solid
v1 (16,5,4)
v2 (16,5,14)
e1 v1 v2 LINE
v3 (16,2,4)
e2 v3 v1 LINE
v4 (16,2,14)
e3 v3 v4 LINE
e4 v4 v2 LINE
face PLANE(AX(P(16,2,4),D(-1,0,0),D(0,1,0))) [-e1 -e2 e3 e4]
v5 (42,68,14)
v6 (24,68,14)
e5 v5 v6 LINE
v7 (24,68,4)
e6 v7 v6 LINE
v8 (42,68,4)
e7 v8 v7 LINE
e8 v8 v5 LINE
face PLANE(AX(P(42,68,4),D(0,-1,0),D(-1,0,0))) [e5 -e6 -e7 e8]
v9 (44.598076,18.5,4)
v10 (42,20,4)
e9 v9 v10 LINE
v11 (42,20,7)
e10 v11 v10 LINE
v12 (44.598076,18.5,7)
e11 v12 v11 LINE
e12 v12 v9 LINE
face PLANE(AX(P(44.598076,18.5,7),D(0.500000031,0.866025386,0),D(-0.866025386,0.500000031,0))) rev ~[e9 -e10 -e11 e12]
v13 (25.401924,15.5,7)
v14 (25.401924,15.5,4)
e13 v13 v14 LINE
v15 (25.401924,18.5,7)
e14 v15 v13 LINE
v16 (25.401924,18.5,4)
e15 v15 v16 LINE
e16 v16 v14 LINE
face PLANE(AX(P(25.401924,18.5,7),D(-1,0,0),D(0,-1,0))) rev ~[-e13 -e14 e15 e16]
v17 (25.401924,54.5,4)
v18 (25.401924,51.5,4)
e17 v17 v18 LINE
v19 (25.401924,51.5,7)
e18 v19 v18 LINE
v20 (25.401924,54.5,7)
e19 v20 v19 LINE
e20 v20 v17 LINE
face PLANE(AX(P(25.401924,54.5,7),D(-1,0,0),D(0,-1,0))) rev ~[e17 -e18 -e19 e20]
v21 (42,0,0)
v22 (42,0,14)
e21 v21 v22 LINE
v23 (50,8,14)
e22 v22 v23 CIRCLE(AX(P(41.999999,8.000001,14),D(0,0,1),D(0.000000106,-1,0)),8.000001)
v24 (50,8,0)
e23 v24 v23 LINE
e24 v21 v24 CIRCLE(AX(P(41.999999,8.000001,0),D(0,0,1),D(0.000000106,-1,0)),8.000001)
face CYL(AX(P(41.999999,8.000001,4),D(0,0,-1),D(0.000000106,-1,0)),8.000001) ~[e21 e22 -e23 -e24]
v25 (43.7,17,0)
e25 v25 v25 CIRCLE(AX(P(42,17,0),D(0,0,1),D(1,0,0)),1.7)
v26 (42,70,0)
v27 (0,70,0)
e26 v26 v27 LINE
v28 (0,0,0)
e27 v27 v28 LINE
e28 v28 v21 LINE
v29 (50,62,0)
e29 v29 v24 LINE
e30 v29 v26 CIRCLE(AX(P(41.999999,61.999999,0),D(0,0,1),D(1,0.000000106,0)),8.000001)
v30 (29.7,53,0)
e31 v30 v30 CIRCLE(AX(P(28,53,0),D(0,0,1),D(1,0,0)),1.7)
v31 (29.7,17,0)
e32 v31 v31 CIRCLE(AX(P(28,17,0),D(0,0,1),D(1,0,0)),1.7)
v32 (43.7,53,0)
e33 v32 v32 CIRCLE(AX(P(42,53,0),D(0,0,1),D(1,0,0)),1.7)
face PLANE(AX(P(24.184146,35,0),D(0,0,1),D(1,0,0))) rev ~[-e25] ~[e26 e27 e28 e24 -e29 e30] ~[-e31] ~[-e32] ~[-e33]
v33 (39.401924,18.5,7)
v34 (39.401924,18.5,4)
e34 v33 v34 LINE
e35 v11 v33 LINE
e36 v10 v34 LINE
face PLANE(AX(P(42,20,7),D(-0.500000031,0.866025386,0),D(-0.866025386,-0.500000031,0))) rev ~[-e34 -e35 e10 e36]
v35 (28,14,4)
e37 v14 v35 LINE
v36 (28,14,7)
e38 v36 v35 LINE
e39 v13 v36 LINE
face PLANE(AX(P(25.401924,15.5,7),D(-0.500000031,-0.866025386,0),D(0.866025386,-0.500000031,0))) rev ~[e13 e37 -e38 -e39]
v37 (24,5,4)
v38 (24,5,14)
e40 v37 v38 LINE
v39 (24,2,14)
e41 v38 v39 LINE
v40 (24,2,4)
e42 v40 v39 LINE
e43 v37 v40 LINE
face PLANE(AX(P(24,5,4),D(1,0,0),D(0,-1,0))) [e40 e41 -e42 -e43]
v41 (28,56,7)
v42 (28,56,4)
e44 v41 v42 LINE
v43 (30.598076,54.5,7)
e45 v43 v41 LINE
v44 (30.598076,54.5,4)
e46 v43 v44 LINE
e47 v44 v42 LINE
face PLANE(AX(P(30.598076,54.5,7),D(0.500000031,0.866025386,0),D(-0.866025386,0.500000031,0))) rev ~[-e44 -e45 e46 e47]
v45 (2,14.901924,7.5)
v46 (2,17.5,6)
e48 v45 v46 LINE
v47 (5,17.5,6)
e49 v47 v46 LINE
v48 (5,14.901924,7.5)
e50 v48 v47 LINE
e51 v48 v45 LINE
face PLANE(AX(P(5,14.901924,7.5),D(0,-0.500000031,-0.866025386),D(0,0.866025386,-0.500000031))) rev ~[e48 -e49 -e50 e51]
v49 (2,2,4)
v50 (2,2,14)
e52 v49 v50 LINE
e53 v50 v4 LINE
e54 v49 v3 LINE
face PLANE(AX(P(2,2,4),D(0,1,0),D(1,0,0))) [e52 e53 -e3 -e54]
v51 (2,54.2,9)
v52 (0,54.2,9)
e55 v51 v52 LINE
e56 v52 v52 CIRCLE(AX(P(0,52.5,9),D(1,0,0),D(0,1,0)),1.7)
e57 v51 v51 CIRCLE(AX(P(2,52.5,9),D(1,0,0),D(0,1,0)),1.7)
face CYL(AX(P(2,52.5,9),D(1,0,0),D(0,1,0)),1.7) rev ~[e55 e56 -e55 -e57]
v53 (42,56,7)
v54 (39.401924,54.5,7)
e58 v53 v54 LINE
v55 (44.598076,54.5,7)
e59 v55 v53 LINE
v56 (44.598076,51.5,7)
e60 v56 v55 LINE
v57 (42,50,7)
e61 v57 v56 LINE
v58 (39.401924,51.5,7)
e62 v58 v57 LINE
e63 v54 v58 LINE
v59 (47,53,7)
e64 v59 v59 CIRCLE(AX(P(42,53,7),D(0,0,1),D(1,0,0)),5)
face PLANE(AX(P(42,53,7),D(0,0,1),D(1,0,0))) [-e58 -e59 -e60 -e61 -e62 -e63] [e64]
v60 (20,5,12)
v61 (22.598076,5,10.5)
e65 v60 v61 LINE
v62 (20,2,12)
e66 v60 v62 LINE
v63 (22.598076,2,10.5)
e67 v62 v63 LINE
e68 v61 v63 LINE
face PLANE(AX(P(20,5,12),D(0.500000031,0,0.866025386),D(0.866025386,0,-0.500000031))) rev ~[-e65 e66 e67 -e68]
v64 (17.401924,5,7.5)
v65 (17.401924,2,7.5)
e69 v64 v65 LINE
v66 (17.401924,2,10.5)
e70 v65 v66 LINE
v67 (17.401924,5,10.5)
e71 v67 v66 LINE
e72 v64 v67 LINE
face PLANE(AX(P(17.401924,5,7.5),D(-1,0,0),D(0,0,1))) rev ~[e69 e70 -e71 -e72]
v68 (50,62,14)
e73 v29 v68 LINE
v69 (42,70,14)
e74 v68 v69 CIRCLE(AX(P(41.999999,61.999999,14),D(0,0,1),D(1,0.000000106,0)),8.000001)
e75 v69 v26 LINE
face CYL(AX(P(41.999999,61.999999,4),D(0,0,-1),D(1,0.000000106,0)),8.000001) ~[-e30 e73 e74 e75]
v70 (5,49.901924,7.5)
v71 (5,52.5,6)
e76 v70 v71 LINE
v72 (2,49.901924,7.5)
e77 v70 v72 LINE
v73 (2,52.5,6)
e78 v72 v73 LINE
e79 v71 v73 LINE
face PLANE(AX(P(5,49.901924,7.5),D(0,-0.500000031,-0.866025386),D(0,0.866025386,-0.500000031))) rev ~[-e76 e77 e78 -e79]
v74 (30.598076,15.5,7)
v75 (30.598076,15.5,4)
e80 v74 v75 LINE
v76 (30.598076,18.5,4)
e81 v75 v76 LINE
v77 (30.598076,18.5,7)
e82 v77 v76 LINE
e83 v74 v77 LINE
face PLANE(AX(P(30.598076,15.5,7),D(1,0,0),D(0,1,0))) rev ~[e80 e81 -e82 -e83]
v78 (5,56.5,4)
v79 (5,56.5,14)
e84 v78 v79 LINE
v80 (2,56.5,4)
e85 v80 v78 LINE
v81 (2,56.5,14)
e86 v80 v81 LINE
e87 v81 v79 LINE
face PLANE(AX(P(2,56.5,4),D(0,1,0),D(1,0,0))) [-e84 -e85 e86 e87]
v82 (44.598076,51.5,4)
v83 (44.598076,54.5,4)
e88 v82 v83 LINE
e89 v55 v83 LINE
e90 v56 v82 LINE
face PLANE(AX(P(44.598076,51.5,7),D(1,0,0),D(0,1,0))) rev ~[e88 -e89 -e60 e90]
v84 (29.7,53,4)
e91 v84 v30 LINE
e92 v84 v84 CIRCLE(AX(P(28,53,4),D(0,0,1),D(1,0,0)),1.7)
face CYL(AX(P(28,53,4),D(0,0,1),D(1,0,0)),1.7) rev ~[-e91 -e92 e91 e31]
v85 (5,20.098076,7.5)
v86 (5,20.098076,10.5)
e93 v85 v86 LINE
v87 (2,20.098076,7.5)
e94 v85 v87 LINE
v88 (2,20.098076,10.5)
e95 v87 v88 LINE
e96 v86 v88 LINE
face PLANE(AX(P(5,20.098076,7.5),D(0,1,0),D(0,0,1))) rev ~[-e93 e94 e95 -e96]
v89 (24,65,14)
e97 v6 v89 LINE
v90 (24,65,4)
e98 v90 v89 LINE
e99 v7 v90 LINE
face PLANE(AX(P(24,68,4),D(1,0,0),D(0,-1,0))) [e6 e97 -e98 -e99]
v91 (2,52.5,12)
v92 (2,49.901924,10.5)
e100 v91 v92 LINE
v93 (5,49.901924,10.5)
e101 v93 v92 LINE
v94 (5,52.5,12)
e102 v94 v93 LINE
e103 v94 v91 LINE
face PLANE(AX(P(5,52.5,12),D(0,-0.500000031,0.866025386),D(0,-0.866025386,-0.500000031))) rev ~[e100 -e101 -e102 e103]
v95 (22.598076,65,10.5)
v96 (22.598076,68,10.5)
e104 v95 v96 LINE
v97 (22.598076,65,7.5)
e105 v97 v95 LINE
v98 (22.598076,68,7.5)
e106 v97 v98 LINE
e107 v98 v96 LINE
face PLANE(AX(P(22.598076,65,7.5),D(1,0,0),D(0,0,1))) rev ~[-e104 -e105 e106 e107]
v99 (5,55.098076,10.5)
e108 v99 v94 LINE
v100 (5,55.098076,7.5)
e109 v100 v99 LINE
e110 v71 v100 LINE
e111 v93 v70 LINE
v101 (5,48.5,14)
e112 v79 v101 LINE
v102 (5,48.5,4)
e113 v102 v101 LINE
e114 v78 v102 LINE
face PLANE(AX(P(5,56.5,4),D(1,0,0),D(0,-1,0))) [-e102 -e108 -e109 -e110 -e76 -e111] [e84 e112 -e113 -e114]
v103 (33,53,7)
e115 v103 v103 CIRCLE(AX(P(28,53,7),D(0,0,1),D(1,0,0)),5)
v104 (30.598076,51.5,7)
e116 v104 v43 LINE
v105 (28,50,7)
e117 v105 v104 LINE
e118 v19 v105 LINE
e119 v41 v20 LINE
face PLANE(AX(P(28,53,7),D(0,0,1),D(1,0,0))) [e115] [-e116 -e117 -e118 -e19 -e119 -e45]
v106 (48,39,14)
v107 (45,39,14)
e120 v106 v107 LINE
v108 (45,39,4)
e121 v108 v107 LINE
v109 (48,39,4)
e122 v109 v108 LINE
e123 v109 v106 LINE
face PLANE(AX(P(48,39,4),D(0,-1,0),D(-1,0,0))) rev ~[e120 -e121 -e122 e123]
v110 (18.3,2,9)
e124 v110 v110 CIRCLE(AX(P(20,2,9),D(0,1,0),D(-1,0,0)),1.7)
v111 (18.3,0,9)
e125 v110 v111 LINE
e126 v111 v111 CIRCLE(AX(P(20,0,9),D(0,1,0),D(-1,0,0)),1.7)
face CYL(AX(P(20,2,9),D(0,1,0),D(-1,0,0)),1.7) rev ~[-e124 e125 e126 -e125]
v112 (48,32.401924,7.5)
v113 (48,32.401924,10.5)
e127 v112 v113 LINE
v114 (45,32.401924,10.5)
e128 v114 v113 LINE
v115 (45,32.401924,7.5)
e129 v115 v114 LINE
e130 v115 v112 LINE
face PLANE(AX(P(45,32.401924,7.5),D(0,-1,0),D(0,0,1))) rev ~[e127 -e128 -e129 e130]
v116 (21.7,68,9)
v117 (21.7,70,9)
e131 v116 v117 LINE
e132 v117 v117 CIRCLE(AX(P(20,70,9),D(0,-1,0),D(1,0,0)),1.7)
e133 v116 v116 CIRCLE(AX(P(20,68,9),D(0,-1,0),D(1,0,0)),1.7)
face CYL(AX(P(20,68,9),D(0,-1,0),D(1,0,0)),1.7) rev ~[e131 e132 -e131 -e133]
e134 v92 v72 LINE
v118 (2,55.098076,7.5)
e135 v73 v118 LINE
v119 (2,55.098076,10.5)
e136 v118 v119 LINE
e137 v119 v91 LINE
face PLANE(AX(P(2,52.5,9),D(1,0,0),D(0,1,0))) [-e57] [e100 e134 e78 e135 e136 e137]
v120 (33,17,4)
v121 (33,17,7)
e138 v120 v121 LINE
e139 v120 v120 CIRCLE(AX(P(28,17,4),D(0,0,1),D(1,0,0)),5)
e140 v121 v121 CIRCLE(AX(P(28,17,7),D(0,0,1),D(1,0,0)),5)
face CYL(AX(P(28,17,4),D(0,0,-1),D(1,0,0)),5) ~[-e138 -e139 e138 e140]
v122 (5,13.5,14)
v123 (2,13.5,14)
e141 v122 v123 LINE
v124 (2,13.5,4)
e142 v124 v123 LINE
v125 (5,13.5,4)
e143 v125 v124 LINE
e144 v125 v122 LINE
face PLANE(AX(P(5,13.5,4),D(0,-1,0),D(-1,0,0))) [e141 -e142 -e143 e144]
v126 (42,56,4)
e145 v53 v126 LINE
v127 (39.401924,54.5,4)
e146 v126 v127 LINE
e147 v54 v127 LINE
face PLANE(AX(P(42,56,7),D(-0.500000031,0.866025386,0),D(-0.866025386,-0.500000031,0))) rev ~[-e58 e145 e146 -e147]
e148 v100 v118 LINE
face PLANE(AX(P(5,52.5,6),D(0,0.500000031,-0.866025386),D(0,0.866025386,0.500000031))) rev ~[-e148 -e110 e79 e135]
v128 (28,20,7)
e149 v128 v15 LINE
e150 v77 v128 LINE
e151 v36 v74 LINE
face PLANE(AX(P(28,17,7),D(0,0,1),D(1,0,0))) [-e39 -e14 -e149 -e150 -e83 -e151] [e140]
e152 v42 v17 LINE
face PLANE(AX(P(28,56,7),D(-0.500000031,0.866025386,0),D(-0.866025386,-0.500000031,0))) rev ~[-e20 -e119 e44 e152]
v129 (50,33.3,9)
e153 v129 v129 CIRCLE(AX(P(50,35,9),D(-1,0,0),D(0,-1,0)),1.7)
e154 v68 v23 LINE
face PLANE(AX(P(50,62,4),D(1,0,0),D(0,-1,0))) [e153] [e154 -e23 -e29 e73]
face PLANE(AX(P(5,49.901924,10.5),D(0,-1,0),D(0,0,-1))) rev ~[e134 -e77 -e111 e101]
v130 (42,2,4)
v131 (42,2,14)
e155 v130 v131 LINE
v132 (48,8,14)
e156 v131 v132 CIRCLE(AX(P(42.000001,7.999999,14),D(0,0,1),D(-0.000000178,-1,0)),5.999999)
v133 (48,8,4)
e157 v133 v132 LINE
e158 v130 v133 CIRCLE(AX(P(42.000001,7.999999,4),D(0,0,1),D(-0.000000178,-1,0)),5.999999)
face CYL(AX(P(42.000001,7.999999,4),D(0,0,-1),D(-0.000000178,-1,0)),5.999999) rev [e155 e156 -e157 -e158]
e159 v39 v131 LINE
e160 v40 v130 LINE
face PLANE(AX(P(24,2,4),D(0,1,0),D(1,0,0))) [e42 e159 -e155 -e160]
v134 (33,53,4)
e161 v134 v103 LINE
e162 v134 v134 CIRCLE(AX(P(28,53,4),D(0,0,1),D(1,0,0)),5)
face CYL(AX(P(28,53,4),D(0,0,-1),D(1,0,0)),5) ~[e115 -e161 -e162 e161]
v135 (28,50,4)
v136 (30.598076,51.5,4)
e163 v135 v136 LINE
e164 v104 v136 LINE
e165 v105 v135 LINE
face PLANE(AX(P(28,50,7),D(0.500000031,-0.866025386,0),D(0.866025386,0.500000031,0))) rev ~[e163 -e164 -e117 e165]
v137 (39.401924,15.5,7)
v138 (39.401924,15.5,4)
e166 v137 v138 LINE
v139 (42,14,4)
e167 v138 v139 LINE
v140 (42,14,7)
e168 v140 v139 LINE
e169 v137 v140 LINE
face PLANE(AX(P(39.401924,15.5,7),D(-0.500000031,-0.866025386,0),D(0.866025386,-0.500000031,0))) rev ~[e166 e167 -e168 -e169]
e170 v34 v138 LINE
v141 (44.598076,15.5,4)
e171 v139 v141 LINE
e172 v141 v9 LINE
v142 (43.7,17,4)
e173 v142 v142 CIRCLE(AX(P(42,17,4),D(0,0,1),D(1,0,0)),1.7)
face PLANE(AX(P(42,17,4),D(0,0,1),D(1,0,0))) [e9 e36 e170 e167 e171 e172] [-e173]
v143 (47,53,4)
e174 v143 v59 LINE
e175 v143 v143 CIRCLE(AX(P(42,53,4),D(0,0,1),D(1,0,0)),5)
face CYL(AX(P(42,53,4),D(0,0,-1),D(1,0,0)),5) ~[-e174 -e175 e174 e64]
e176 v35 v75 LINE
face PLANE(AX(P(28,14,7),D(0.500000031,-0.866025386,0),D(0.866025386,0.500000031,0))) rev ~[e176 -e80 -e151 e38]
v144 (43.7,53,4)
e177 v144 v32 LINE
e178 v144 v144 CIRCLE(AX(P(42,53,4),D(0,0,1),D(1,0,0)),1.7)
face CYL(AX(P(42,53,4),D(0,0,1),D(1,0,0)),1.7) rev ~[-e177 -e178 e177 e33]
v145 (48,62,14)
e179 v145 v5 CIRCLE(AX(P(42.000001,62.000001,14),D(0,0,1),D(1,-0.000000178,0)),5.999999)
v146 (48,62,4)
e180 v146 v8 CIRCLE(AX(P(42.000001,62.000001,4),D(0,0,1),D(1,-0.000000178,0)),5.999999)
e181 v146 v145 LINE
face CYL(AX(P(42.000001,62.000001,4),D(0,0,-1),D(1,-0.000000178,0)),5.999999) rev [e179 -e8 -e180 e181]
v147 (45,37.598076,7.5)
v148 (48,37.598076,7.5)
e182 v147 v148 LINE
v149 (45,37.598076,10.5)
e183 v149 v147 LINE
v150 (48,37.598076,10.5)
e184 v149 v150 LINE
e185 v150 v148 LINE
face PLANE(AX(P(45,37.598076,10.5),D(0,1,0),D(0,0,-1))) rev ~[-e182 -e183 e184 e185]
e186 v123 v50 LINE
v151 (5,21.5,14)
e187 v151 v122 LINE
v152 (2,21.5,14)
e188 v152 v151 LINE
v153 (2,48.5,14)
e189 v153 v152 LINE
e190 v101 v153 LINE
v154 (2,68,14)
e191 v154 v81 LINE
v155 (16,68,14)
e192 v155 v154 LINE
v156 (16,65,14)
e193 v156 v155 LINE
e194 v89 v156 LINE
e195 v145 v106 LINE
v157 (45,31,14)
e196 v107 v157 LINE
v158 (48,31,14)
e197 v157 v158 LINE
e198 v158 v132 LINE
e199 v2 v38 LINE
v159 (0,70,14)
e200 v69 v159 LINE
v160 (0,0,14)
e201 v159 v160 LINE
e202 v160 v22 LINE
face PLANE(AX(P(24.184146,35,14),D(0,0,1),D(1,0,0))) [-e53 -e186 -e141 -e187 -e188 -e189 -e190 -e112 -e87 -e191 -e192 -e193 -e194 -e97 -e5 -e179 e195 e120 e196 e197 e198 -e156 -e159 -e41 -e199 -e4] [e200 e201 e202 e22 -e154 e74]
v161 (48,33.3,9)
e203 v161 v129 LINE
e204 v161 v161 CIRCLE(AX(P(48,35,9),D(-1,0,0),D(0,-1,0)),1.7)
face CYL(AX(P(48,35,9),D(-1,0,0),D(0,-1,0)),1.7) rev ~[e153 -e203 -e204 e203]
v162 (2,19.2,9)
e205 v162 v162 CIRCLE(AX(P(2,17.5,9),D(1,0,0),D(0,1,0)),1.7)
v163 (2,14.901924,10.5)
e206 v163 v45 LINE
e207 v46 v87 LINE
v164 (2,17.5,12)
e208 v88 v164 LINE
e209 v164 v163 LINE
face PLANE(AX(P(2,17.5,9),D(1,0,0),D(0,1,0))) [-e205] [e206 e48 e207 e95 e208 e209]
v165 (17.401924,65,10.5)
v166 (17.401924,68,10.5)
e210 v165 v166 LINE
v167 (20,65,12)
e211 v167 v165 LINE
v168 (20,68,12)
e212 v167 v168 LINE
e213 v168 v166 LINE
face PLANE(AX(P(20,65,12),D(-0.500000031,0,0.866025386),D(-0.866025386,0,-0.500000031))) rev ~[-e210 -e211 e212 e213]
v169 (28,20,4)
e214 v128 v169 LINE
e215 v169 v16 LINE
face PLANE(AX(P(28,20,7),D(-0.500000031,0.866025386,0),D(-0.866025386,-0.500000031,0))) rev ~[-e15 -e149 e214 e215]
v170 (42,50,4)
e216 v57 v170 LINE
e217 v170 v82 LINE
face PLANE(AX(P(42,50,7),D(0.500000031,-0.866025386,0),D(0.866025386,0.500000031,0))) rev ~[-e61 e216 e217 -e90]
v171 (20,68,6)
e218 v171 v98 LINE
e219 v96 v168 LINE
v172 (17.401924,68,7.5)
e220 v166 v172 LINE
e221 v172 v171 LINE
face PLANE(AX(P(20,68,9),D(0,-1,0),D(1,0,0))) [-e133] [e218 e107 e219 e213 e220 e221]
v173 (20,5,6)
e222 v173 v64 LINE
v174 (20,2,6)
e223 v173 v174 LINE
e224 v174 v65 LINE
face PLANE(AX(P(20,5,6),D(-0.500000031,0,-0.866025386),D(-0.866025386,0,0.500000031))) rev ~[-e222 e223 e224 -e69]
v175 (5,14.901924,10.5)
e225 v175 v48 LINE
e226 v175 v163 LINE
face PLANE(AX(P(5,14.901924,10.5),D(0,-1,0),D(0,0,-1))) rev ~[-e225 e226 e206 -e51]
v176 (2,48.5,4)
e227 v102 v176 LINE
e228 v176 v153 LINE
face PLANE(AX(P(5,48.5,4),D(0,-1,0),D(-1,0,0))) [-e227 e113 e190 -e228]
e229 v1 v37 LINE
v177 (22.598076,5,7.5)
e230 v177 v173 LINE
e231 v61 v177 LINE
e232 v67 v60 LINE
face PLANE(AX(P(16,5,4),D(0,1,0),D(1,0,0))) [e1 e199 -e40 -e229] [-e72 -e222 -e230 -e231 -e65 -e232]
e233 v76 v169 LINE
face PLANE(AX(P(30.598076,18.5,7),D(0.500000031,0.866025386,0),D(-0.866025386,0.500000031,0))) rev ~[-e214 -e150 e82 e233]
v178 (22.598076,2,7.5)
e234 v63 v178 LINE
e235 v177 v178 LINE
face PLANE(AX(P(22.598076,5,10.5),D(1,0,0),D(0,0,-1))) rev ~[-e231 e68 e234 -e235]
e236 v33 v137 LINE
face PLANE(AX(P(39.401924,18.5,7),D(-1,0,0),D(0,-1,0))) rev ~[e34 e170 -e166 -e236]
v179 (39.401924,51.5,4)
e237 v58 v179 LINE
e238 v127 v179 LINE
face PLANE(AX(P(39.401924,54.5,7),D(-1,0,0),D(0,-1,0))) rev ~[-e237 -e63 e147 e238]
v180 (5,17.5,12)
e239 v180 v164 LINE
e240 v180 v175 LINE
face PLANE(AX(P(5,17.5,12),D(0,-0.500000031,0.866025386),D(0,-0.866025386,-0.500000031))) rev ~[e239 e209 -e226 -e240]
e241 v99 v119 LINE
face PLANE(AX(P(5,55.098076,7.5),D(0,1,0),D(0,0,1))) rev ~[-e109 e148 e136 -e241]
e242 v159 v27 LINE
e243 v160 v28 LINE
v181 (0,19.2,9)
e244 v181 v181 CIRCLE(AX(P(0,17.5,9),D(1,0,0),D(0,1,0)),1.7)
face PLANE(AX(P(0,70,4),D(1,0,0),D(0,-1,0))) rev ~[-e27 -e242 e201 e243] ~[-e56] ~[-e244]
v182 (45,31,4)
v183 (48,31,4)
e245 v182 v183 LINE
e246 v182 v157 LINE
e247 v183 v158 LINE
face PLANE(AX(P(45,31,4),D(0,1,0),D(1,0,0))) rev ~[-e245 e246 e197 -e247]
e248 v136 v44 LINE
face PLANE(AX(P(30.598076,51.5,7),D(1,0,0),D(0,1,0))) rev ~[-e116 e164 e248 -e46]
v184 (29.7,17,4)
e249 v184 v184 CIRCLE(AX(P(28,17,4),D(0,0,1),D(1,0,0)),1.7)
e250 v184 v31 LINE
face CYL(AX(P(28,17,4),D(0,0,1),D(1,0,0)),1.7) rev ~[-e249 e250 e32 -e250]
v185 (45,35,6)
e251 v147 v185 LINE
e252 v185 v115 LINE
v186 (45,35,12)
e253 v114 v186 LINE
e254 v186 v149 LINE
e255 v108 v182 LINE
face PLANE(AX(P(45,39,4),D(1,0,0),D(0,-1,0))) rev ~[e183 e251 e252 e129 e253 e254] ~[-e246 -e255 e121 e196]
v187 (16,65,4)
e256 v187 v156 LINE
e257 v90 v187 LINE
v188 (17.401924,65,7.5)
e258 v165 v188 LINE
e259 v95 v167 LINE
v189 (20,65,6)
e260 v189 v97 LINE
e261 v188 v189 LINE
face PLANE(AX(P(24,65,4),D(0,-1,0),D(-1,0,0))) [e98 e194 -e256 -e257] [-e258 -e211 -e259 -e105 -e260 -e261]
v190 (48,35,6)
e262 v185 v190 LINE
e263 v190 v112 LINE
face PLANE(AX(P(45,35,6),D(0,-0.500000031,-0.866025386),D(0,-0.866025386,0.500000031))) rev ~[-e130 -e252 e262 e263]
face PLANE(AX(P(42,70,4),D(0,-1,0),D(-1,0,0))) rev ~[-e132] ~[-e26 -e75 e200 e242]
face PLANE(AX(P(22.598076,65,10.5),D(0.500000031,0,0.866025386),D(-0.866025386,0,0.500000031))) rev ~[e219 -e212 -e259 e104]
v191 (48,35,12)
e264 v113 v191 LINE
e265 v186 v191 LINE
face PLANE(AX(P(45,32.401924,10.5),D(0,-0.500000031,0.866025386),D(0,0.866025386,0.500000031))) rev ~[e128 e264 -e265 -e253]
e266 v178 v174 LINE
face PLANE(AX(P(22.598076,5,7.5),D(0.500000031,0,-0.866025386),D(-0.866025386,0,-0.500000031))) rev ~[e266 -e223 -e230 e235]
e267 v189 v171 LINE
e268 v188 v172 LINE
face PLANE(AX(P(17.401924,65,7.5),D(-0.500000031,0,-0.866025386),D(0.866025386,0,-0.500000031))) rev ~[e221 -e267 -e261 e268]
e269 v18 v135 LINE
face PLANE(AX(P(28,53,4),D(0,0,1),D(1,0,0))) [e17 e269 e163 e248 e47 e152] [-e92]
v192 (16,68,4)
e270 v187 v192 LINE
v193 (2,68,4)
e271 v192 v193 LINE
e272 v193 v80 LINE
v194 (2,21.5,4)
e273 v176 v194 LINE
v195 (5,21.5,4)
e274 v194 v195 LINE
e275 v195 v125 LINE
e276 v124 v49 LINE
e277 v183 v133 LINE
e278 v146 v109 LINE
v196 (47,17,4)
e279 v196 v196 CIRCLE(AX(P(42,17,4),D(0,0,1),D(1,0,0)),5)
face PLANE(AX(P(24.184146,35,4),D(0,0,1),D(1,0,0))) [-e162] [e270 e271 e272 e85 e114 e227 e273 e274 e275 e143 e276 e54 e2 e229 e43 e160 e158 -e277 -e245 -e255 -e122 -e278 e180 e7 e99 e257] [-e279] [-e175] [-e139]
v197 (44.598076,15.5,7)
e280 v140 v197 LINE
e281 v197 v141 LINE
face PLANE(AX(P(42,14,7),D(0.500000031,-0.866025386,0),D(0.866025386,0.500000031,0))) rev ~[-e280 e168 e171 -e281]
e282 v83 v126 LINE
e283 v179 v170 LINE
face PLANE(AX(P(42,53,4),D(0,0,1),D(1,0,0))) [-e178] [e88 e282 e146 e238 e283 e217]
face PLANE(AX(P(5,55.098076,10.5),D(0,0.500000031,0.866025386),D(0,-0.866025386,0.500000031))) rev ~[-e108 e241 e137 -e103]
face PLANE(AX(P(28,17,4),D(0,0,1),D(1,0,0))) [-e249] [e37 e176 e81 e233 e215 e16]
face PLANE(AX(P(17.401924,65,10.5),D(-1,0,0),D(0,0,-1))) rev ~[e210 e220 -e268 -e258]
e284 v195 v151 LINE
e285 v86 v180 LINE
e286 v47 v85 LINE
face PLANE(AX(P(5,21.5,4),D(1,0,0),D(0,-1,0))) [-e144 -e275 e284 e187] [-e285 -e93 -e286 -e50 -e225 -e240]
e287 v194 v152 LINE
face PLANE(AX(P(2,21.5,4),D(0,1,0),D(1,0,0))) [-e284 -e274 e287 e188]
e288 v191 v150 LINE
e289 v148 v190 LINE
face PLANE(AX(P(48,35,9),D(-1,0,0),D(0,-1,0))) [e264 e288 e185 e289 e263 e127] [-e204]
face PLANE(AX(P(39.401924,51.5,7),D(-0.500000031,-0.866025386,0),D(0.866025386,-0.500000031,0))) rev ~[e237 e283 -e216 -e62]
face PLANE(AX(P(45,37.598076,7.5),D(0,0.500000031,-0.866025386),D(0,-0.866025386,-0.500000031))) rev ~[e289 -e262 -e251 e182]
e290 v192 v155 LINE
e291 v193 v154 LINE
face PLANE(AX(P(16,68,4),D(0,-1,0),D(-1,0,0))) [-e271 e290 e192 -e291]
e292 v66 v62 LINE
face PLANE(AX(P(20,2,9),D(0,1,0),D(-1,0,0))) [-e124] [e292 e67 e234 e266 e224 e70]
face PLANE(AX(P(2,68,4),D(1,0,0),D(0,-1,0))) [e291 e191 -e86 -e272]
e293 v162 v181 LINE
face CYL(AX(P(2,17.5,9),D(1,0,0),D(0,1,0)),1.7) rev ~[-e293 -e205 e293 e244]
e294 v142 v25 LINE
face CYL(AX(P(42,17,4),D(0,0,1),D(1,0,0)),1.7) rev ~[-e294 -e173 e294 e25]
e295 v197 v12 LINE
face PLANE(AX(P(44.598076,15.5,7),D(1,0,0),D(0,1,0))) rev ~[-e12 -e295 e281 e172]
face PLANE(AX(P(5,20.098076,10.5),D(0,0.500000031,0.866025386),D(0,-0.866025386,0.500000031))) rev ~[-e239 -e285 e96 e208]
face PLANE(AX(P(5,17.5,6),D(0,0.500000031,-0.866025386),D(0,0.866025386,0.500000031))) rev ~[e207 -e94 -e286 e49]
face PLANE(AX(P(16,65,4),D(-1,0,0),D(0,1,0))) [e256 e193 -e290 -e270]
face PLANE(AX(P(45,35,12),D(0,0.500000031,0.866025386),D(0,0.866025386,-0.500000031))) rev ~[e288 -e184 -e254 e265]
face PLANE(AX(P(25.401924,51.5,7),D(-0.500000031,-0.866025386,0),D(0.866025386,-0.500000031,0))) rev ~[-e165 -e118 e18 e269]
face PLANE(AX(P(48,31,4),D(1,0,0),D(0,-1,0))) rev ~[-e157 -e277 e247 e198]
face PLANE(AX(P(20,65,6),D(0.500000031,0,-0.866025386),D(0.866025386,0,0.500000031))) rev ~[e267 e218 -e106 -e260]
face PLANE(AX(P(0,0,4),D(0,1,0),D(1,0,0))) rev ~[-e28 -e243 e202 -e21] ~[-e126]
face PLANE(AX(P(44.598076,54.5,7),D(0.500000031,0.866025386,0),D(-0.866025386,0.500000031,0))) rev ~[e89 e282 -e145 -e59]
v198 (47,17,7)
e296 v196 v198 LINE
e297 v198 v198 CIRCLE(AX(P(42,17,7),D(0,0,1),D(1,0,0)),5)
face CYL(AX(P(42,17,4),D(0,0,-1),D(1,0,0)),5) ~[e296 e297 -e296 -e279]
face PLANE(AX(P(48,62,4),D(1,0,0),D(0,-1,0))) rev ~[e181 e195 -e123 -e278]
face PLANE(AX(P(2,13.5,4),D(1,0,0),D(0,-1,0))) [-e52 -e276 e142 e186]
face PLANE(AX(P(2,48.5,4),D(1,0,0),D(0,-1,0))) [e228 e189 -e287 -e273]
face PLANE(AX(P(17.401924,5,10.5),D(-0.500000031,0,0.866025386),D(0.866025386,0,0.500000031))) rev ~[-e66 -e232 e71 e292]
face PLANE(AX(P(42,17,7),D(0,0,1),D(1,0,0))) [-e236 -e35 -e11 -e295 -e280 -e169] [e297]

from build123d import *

# Parameters (mm, degrees)
PAD_DEPTH       = 4
PAD001_DEPTH    = 10
SKETCH002_R     = 5
PAD002_DEPTH    = 3
POCKET_DEPTH    = 3
SKETCH004_R     = 1.7
POCKET001_DEPTH = 4
POCKET002_DEPTH = 3
SKETCH006_R     = 1.7
POCKET003_DEPTH = 2
POCKET004_DEPTH = 3
SKETCH008_R     = 1.7
POCKET005_DEPTH = 2
POCKET006_DEPTH = 3
SKETCH010_R     = 1.7
POCKET007_DEPTH = 2
POCKET008_DEPTH = 3
SKETCH012_R     = 1.7
POCKET009_DEPTH = 2


with BuildPart() as part:
    # Sketch → Pad (new body)
    with BuildSketch(Plane.XY):
        with BuildLine():
            Line((0, 0), (42, 0))
            ThreePointArc((42, 0), (47.656854, 2.343146), (50, 8))
            Line((50, 62), (50, 8))
            ThreePointArc((50, 62), (47.656854, 67.656854), (42, 70))
            Line((42, 70), (0, 70))
            Line((0, 70), (0, 0))
        make_face()
    extrude(amount=PAD_DEPTH)

    # Sketch001 → Pad001 (new body)
    with BuildSketch(Plane.XY.offset(4)):
        with BuildLine():
            Line((0, 0), (42, 0))
            ThreePointArc((42, 0), (47.656854, 2.343146), (50, 8))
            Line((50, 62), (50, 8))
            ThreePointArc((50, 62), (47.656854, 67.656854), (42, 70))
            Line((42, 70), (0, 70))
            Line((0, 70), (0, 0))
        make_face()
        with BuildLine():
            ThreePointArc((48, 62), (46.242641, 66.242641), (42, 68))
            Line((42, 68), (24, 68))
            Line((24, 68), (24, 65))
            Line((24, 65), (16, 65))
            Line((16, 65), (16, 68))
            Line((16, 68), (2, 68))
            Line((2, 68), (2, 56.5))
            Line((2, 56.5), (5, 56.5))
            Line((5, 56.5), (5, 48.5))
            Line((5, 48.5), (2, 48.5))
            Line((2, 48.5), (2, 21.5))
            Line((2, 21.5), (5, 21.5))
            Line((5, 21.5), (5, 13.5))
            Line((5, 13.5), (2, 13.5))
            Line((2, 13.5), (2, 2))
            Line((2, 2), (16, 2))
            Line((16, 2), (16, 5))
            Line((16, 5), (24, 5))
            Line((24, 5), (24, 2))
            Line((24, 2), (42, 2))
            ThreePointArc((42, 2), (46.242641, 3.757359), (48, 8))
            Line((48, 31), (48, 8))
            Line((45, 31), (48, 31))
            Line((45, 39), (45, 31))
            Line((48, 39), (45, 39))
            Line((48, 62), (48, 39))
        make_face(mode=Mode.SUBTRACT)
    extrude(amount=PAD001_DEPTH)

    # Sketch002 → Pad002 (new body)
    with BuildSketch(Plane.XY.offset(4)):
        with Locations((28, 53)):
            Circle(SKETCH002_R)
        with Locations((42, 53)):
            Circle(SKETCH002_R)
        with Locations((28, 17)):
            Circle(SKETCH002_R)
        with Locations((42, 17)):
            Circle(SKETCH002_R)
    extrude(amount=PAD002_DEPTH)

    # Sketch003 → Pocket (cut)
    with BuildSketch(Plane.XY.offset(7)):
        Polygon((28, 50), (30.598076, 51.5), (30.598076, 54.5), (28, 56), (25.401924, 54.5), (25.401924, 51.5), align=None)
        Polygon((30.598076, 15.5), (30.598076, 18.5), (28, 20), (25.401924, 18.5), (25.401924, 15.5), (28, 14), align=None)
        Polygon((44.598076, 51.5), (44.598076, 54.5), (42, 56), (39.401924, 54.5), (39.401924, 51.5), (42, 50), align=None)
        Polygon((44.598076, 15.5), (44.598076, 18.5), (42, 20), (39.401924, 18.5), (39.401924, 15.5), (42, 14), align=None)
    extrude(amount=-POCKET_DEPTH, mode=Mode.SUBTRACT)

    # Sketch004 → Pocket001 (cut)
    with BuildSketch(Plane.XY.offset(4)):
        with Locations((28, 53)):
            Circle(SKETCH004_R)
        with Locations((42, 53)):
            Circle(SKETCH004_R)
        with Locations((28, 17)):
            Circle(SKETCH004_R)
        with Locations((42, 17)):
            Circle(SKETCH004_R)
    extrude(amount=-POCKET001_DEPTH, mode=Mode.SUBTRACT)

    # Sketch005 → Pocket002 (cut)
    with BuildSketch(Plane.YZ.offset(5)):
        Polygon((20.098076, 7.5), (20.098076, 10.5), (17.5, 12), (14.901924, 10.5), (14.901924, 7.5), (17.5, 6), align=None)
        Polygon((55.098076, 7.5), (55.098076, 10.5), (52.5, 12), (49.901924, 10.5), (49.901924, 7.5), (52.5, 6), align=None)
    extrude(amount=-POCKET002_DEPTH, mode=Mode.SUBTRACT)

    # Sketch006 → Pocket003 (cut)
    with BuildSketch(Plane.YZ.offset(2)):
        with Locations((17.5, 9)):
            Circle(SKETCH006_R)
        with Locations((52.5, 9)):
            Circle(SKETCH006_R)
    extrude(amount=-POCKET003_DEPTH, mode=Mode.SUBTRACT)

    # Sketch007 → Pocket004 (cut)
    with BuildSketch(Plane.XZ.offset(-65)):
        Polygon((22.598076, 7.5), (22.598076, 10.5), (20, 12), (17.401924, 10.5), (17.401924, 7.5), (20, 6), align=None)
    extrude(amount=-POCKET004_DEPTH, mode=Mode.SUBTRACT)

    # Sketch008 → Pocket005 (cut)
    with BuildSketch(Plane.XZ.offset(-68)):
        with Locations((20, 9)):
            Circle(SKETCH008_R)
    extrude(amount=-POCKET005_DEPTH, mode=Mode.SUBTRACT)

    # Sketch009 → Pocket006 (cut)
    with BuildSketch(Plane(origin=(45, 0, 0), x_dir=(0, -1, 0), z_dir=(-1, 0, 0))):
        Polygon((-37.598076, 7.5), (-35, 6), (-32.401924, 7.5), (-32.401924, 10.5), (-35, 12), (-37.598076, 10.5), align=None)
    extrude(amount=-POCKET006_DEPTH, mode=Mode.SUBTRACT)

    # Sketch010 → Pocket007 (cut)
    with BuildSketch(Plane(origin=(48, 0, 0), x_dir=(0, -1, 0), z_dir=(-1, 0, 0))):
        with Locations((-35, 9)):
            Circle(SKETCH010_R)
    extrude(amount=-POCKET007_DEPTH, mode=Mode.SUBTRACT)

    # Sketch011 → Pocket008 (cut)
    with BuildSketch(Plane(origin=(0, 5, 0), x_dir=(-1, 0, 0), z_dir=(0, 1, 0))):
        Polygon((-17.401924, 7.5), (-17.401924, 10.5), (-20, 12), (-22.598076, 10.5), (-22.598076, 7.5), (-20, 6), align=None)
    extrude(amount=-POCKET008_DEPTH, mode=Mode.SUBTRACT)

    # Sketch012 → Pocket009 (cut)
    with BuildSketch(Plane(origin=(0, 2, 0), x_dir=(-1, 0, 0), z_dir=(0, 1, 0))):
        with Locations((-20, 9)):
            Circle(SKETCH012_R)
    extrude(amount=-POCKET009_DEPTH, mode=Mode.SUBTRACT)


solid = part.part
